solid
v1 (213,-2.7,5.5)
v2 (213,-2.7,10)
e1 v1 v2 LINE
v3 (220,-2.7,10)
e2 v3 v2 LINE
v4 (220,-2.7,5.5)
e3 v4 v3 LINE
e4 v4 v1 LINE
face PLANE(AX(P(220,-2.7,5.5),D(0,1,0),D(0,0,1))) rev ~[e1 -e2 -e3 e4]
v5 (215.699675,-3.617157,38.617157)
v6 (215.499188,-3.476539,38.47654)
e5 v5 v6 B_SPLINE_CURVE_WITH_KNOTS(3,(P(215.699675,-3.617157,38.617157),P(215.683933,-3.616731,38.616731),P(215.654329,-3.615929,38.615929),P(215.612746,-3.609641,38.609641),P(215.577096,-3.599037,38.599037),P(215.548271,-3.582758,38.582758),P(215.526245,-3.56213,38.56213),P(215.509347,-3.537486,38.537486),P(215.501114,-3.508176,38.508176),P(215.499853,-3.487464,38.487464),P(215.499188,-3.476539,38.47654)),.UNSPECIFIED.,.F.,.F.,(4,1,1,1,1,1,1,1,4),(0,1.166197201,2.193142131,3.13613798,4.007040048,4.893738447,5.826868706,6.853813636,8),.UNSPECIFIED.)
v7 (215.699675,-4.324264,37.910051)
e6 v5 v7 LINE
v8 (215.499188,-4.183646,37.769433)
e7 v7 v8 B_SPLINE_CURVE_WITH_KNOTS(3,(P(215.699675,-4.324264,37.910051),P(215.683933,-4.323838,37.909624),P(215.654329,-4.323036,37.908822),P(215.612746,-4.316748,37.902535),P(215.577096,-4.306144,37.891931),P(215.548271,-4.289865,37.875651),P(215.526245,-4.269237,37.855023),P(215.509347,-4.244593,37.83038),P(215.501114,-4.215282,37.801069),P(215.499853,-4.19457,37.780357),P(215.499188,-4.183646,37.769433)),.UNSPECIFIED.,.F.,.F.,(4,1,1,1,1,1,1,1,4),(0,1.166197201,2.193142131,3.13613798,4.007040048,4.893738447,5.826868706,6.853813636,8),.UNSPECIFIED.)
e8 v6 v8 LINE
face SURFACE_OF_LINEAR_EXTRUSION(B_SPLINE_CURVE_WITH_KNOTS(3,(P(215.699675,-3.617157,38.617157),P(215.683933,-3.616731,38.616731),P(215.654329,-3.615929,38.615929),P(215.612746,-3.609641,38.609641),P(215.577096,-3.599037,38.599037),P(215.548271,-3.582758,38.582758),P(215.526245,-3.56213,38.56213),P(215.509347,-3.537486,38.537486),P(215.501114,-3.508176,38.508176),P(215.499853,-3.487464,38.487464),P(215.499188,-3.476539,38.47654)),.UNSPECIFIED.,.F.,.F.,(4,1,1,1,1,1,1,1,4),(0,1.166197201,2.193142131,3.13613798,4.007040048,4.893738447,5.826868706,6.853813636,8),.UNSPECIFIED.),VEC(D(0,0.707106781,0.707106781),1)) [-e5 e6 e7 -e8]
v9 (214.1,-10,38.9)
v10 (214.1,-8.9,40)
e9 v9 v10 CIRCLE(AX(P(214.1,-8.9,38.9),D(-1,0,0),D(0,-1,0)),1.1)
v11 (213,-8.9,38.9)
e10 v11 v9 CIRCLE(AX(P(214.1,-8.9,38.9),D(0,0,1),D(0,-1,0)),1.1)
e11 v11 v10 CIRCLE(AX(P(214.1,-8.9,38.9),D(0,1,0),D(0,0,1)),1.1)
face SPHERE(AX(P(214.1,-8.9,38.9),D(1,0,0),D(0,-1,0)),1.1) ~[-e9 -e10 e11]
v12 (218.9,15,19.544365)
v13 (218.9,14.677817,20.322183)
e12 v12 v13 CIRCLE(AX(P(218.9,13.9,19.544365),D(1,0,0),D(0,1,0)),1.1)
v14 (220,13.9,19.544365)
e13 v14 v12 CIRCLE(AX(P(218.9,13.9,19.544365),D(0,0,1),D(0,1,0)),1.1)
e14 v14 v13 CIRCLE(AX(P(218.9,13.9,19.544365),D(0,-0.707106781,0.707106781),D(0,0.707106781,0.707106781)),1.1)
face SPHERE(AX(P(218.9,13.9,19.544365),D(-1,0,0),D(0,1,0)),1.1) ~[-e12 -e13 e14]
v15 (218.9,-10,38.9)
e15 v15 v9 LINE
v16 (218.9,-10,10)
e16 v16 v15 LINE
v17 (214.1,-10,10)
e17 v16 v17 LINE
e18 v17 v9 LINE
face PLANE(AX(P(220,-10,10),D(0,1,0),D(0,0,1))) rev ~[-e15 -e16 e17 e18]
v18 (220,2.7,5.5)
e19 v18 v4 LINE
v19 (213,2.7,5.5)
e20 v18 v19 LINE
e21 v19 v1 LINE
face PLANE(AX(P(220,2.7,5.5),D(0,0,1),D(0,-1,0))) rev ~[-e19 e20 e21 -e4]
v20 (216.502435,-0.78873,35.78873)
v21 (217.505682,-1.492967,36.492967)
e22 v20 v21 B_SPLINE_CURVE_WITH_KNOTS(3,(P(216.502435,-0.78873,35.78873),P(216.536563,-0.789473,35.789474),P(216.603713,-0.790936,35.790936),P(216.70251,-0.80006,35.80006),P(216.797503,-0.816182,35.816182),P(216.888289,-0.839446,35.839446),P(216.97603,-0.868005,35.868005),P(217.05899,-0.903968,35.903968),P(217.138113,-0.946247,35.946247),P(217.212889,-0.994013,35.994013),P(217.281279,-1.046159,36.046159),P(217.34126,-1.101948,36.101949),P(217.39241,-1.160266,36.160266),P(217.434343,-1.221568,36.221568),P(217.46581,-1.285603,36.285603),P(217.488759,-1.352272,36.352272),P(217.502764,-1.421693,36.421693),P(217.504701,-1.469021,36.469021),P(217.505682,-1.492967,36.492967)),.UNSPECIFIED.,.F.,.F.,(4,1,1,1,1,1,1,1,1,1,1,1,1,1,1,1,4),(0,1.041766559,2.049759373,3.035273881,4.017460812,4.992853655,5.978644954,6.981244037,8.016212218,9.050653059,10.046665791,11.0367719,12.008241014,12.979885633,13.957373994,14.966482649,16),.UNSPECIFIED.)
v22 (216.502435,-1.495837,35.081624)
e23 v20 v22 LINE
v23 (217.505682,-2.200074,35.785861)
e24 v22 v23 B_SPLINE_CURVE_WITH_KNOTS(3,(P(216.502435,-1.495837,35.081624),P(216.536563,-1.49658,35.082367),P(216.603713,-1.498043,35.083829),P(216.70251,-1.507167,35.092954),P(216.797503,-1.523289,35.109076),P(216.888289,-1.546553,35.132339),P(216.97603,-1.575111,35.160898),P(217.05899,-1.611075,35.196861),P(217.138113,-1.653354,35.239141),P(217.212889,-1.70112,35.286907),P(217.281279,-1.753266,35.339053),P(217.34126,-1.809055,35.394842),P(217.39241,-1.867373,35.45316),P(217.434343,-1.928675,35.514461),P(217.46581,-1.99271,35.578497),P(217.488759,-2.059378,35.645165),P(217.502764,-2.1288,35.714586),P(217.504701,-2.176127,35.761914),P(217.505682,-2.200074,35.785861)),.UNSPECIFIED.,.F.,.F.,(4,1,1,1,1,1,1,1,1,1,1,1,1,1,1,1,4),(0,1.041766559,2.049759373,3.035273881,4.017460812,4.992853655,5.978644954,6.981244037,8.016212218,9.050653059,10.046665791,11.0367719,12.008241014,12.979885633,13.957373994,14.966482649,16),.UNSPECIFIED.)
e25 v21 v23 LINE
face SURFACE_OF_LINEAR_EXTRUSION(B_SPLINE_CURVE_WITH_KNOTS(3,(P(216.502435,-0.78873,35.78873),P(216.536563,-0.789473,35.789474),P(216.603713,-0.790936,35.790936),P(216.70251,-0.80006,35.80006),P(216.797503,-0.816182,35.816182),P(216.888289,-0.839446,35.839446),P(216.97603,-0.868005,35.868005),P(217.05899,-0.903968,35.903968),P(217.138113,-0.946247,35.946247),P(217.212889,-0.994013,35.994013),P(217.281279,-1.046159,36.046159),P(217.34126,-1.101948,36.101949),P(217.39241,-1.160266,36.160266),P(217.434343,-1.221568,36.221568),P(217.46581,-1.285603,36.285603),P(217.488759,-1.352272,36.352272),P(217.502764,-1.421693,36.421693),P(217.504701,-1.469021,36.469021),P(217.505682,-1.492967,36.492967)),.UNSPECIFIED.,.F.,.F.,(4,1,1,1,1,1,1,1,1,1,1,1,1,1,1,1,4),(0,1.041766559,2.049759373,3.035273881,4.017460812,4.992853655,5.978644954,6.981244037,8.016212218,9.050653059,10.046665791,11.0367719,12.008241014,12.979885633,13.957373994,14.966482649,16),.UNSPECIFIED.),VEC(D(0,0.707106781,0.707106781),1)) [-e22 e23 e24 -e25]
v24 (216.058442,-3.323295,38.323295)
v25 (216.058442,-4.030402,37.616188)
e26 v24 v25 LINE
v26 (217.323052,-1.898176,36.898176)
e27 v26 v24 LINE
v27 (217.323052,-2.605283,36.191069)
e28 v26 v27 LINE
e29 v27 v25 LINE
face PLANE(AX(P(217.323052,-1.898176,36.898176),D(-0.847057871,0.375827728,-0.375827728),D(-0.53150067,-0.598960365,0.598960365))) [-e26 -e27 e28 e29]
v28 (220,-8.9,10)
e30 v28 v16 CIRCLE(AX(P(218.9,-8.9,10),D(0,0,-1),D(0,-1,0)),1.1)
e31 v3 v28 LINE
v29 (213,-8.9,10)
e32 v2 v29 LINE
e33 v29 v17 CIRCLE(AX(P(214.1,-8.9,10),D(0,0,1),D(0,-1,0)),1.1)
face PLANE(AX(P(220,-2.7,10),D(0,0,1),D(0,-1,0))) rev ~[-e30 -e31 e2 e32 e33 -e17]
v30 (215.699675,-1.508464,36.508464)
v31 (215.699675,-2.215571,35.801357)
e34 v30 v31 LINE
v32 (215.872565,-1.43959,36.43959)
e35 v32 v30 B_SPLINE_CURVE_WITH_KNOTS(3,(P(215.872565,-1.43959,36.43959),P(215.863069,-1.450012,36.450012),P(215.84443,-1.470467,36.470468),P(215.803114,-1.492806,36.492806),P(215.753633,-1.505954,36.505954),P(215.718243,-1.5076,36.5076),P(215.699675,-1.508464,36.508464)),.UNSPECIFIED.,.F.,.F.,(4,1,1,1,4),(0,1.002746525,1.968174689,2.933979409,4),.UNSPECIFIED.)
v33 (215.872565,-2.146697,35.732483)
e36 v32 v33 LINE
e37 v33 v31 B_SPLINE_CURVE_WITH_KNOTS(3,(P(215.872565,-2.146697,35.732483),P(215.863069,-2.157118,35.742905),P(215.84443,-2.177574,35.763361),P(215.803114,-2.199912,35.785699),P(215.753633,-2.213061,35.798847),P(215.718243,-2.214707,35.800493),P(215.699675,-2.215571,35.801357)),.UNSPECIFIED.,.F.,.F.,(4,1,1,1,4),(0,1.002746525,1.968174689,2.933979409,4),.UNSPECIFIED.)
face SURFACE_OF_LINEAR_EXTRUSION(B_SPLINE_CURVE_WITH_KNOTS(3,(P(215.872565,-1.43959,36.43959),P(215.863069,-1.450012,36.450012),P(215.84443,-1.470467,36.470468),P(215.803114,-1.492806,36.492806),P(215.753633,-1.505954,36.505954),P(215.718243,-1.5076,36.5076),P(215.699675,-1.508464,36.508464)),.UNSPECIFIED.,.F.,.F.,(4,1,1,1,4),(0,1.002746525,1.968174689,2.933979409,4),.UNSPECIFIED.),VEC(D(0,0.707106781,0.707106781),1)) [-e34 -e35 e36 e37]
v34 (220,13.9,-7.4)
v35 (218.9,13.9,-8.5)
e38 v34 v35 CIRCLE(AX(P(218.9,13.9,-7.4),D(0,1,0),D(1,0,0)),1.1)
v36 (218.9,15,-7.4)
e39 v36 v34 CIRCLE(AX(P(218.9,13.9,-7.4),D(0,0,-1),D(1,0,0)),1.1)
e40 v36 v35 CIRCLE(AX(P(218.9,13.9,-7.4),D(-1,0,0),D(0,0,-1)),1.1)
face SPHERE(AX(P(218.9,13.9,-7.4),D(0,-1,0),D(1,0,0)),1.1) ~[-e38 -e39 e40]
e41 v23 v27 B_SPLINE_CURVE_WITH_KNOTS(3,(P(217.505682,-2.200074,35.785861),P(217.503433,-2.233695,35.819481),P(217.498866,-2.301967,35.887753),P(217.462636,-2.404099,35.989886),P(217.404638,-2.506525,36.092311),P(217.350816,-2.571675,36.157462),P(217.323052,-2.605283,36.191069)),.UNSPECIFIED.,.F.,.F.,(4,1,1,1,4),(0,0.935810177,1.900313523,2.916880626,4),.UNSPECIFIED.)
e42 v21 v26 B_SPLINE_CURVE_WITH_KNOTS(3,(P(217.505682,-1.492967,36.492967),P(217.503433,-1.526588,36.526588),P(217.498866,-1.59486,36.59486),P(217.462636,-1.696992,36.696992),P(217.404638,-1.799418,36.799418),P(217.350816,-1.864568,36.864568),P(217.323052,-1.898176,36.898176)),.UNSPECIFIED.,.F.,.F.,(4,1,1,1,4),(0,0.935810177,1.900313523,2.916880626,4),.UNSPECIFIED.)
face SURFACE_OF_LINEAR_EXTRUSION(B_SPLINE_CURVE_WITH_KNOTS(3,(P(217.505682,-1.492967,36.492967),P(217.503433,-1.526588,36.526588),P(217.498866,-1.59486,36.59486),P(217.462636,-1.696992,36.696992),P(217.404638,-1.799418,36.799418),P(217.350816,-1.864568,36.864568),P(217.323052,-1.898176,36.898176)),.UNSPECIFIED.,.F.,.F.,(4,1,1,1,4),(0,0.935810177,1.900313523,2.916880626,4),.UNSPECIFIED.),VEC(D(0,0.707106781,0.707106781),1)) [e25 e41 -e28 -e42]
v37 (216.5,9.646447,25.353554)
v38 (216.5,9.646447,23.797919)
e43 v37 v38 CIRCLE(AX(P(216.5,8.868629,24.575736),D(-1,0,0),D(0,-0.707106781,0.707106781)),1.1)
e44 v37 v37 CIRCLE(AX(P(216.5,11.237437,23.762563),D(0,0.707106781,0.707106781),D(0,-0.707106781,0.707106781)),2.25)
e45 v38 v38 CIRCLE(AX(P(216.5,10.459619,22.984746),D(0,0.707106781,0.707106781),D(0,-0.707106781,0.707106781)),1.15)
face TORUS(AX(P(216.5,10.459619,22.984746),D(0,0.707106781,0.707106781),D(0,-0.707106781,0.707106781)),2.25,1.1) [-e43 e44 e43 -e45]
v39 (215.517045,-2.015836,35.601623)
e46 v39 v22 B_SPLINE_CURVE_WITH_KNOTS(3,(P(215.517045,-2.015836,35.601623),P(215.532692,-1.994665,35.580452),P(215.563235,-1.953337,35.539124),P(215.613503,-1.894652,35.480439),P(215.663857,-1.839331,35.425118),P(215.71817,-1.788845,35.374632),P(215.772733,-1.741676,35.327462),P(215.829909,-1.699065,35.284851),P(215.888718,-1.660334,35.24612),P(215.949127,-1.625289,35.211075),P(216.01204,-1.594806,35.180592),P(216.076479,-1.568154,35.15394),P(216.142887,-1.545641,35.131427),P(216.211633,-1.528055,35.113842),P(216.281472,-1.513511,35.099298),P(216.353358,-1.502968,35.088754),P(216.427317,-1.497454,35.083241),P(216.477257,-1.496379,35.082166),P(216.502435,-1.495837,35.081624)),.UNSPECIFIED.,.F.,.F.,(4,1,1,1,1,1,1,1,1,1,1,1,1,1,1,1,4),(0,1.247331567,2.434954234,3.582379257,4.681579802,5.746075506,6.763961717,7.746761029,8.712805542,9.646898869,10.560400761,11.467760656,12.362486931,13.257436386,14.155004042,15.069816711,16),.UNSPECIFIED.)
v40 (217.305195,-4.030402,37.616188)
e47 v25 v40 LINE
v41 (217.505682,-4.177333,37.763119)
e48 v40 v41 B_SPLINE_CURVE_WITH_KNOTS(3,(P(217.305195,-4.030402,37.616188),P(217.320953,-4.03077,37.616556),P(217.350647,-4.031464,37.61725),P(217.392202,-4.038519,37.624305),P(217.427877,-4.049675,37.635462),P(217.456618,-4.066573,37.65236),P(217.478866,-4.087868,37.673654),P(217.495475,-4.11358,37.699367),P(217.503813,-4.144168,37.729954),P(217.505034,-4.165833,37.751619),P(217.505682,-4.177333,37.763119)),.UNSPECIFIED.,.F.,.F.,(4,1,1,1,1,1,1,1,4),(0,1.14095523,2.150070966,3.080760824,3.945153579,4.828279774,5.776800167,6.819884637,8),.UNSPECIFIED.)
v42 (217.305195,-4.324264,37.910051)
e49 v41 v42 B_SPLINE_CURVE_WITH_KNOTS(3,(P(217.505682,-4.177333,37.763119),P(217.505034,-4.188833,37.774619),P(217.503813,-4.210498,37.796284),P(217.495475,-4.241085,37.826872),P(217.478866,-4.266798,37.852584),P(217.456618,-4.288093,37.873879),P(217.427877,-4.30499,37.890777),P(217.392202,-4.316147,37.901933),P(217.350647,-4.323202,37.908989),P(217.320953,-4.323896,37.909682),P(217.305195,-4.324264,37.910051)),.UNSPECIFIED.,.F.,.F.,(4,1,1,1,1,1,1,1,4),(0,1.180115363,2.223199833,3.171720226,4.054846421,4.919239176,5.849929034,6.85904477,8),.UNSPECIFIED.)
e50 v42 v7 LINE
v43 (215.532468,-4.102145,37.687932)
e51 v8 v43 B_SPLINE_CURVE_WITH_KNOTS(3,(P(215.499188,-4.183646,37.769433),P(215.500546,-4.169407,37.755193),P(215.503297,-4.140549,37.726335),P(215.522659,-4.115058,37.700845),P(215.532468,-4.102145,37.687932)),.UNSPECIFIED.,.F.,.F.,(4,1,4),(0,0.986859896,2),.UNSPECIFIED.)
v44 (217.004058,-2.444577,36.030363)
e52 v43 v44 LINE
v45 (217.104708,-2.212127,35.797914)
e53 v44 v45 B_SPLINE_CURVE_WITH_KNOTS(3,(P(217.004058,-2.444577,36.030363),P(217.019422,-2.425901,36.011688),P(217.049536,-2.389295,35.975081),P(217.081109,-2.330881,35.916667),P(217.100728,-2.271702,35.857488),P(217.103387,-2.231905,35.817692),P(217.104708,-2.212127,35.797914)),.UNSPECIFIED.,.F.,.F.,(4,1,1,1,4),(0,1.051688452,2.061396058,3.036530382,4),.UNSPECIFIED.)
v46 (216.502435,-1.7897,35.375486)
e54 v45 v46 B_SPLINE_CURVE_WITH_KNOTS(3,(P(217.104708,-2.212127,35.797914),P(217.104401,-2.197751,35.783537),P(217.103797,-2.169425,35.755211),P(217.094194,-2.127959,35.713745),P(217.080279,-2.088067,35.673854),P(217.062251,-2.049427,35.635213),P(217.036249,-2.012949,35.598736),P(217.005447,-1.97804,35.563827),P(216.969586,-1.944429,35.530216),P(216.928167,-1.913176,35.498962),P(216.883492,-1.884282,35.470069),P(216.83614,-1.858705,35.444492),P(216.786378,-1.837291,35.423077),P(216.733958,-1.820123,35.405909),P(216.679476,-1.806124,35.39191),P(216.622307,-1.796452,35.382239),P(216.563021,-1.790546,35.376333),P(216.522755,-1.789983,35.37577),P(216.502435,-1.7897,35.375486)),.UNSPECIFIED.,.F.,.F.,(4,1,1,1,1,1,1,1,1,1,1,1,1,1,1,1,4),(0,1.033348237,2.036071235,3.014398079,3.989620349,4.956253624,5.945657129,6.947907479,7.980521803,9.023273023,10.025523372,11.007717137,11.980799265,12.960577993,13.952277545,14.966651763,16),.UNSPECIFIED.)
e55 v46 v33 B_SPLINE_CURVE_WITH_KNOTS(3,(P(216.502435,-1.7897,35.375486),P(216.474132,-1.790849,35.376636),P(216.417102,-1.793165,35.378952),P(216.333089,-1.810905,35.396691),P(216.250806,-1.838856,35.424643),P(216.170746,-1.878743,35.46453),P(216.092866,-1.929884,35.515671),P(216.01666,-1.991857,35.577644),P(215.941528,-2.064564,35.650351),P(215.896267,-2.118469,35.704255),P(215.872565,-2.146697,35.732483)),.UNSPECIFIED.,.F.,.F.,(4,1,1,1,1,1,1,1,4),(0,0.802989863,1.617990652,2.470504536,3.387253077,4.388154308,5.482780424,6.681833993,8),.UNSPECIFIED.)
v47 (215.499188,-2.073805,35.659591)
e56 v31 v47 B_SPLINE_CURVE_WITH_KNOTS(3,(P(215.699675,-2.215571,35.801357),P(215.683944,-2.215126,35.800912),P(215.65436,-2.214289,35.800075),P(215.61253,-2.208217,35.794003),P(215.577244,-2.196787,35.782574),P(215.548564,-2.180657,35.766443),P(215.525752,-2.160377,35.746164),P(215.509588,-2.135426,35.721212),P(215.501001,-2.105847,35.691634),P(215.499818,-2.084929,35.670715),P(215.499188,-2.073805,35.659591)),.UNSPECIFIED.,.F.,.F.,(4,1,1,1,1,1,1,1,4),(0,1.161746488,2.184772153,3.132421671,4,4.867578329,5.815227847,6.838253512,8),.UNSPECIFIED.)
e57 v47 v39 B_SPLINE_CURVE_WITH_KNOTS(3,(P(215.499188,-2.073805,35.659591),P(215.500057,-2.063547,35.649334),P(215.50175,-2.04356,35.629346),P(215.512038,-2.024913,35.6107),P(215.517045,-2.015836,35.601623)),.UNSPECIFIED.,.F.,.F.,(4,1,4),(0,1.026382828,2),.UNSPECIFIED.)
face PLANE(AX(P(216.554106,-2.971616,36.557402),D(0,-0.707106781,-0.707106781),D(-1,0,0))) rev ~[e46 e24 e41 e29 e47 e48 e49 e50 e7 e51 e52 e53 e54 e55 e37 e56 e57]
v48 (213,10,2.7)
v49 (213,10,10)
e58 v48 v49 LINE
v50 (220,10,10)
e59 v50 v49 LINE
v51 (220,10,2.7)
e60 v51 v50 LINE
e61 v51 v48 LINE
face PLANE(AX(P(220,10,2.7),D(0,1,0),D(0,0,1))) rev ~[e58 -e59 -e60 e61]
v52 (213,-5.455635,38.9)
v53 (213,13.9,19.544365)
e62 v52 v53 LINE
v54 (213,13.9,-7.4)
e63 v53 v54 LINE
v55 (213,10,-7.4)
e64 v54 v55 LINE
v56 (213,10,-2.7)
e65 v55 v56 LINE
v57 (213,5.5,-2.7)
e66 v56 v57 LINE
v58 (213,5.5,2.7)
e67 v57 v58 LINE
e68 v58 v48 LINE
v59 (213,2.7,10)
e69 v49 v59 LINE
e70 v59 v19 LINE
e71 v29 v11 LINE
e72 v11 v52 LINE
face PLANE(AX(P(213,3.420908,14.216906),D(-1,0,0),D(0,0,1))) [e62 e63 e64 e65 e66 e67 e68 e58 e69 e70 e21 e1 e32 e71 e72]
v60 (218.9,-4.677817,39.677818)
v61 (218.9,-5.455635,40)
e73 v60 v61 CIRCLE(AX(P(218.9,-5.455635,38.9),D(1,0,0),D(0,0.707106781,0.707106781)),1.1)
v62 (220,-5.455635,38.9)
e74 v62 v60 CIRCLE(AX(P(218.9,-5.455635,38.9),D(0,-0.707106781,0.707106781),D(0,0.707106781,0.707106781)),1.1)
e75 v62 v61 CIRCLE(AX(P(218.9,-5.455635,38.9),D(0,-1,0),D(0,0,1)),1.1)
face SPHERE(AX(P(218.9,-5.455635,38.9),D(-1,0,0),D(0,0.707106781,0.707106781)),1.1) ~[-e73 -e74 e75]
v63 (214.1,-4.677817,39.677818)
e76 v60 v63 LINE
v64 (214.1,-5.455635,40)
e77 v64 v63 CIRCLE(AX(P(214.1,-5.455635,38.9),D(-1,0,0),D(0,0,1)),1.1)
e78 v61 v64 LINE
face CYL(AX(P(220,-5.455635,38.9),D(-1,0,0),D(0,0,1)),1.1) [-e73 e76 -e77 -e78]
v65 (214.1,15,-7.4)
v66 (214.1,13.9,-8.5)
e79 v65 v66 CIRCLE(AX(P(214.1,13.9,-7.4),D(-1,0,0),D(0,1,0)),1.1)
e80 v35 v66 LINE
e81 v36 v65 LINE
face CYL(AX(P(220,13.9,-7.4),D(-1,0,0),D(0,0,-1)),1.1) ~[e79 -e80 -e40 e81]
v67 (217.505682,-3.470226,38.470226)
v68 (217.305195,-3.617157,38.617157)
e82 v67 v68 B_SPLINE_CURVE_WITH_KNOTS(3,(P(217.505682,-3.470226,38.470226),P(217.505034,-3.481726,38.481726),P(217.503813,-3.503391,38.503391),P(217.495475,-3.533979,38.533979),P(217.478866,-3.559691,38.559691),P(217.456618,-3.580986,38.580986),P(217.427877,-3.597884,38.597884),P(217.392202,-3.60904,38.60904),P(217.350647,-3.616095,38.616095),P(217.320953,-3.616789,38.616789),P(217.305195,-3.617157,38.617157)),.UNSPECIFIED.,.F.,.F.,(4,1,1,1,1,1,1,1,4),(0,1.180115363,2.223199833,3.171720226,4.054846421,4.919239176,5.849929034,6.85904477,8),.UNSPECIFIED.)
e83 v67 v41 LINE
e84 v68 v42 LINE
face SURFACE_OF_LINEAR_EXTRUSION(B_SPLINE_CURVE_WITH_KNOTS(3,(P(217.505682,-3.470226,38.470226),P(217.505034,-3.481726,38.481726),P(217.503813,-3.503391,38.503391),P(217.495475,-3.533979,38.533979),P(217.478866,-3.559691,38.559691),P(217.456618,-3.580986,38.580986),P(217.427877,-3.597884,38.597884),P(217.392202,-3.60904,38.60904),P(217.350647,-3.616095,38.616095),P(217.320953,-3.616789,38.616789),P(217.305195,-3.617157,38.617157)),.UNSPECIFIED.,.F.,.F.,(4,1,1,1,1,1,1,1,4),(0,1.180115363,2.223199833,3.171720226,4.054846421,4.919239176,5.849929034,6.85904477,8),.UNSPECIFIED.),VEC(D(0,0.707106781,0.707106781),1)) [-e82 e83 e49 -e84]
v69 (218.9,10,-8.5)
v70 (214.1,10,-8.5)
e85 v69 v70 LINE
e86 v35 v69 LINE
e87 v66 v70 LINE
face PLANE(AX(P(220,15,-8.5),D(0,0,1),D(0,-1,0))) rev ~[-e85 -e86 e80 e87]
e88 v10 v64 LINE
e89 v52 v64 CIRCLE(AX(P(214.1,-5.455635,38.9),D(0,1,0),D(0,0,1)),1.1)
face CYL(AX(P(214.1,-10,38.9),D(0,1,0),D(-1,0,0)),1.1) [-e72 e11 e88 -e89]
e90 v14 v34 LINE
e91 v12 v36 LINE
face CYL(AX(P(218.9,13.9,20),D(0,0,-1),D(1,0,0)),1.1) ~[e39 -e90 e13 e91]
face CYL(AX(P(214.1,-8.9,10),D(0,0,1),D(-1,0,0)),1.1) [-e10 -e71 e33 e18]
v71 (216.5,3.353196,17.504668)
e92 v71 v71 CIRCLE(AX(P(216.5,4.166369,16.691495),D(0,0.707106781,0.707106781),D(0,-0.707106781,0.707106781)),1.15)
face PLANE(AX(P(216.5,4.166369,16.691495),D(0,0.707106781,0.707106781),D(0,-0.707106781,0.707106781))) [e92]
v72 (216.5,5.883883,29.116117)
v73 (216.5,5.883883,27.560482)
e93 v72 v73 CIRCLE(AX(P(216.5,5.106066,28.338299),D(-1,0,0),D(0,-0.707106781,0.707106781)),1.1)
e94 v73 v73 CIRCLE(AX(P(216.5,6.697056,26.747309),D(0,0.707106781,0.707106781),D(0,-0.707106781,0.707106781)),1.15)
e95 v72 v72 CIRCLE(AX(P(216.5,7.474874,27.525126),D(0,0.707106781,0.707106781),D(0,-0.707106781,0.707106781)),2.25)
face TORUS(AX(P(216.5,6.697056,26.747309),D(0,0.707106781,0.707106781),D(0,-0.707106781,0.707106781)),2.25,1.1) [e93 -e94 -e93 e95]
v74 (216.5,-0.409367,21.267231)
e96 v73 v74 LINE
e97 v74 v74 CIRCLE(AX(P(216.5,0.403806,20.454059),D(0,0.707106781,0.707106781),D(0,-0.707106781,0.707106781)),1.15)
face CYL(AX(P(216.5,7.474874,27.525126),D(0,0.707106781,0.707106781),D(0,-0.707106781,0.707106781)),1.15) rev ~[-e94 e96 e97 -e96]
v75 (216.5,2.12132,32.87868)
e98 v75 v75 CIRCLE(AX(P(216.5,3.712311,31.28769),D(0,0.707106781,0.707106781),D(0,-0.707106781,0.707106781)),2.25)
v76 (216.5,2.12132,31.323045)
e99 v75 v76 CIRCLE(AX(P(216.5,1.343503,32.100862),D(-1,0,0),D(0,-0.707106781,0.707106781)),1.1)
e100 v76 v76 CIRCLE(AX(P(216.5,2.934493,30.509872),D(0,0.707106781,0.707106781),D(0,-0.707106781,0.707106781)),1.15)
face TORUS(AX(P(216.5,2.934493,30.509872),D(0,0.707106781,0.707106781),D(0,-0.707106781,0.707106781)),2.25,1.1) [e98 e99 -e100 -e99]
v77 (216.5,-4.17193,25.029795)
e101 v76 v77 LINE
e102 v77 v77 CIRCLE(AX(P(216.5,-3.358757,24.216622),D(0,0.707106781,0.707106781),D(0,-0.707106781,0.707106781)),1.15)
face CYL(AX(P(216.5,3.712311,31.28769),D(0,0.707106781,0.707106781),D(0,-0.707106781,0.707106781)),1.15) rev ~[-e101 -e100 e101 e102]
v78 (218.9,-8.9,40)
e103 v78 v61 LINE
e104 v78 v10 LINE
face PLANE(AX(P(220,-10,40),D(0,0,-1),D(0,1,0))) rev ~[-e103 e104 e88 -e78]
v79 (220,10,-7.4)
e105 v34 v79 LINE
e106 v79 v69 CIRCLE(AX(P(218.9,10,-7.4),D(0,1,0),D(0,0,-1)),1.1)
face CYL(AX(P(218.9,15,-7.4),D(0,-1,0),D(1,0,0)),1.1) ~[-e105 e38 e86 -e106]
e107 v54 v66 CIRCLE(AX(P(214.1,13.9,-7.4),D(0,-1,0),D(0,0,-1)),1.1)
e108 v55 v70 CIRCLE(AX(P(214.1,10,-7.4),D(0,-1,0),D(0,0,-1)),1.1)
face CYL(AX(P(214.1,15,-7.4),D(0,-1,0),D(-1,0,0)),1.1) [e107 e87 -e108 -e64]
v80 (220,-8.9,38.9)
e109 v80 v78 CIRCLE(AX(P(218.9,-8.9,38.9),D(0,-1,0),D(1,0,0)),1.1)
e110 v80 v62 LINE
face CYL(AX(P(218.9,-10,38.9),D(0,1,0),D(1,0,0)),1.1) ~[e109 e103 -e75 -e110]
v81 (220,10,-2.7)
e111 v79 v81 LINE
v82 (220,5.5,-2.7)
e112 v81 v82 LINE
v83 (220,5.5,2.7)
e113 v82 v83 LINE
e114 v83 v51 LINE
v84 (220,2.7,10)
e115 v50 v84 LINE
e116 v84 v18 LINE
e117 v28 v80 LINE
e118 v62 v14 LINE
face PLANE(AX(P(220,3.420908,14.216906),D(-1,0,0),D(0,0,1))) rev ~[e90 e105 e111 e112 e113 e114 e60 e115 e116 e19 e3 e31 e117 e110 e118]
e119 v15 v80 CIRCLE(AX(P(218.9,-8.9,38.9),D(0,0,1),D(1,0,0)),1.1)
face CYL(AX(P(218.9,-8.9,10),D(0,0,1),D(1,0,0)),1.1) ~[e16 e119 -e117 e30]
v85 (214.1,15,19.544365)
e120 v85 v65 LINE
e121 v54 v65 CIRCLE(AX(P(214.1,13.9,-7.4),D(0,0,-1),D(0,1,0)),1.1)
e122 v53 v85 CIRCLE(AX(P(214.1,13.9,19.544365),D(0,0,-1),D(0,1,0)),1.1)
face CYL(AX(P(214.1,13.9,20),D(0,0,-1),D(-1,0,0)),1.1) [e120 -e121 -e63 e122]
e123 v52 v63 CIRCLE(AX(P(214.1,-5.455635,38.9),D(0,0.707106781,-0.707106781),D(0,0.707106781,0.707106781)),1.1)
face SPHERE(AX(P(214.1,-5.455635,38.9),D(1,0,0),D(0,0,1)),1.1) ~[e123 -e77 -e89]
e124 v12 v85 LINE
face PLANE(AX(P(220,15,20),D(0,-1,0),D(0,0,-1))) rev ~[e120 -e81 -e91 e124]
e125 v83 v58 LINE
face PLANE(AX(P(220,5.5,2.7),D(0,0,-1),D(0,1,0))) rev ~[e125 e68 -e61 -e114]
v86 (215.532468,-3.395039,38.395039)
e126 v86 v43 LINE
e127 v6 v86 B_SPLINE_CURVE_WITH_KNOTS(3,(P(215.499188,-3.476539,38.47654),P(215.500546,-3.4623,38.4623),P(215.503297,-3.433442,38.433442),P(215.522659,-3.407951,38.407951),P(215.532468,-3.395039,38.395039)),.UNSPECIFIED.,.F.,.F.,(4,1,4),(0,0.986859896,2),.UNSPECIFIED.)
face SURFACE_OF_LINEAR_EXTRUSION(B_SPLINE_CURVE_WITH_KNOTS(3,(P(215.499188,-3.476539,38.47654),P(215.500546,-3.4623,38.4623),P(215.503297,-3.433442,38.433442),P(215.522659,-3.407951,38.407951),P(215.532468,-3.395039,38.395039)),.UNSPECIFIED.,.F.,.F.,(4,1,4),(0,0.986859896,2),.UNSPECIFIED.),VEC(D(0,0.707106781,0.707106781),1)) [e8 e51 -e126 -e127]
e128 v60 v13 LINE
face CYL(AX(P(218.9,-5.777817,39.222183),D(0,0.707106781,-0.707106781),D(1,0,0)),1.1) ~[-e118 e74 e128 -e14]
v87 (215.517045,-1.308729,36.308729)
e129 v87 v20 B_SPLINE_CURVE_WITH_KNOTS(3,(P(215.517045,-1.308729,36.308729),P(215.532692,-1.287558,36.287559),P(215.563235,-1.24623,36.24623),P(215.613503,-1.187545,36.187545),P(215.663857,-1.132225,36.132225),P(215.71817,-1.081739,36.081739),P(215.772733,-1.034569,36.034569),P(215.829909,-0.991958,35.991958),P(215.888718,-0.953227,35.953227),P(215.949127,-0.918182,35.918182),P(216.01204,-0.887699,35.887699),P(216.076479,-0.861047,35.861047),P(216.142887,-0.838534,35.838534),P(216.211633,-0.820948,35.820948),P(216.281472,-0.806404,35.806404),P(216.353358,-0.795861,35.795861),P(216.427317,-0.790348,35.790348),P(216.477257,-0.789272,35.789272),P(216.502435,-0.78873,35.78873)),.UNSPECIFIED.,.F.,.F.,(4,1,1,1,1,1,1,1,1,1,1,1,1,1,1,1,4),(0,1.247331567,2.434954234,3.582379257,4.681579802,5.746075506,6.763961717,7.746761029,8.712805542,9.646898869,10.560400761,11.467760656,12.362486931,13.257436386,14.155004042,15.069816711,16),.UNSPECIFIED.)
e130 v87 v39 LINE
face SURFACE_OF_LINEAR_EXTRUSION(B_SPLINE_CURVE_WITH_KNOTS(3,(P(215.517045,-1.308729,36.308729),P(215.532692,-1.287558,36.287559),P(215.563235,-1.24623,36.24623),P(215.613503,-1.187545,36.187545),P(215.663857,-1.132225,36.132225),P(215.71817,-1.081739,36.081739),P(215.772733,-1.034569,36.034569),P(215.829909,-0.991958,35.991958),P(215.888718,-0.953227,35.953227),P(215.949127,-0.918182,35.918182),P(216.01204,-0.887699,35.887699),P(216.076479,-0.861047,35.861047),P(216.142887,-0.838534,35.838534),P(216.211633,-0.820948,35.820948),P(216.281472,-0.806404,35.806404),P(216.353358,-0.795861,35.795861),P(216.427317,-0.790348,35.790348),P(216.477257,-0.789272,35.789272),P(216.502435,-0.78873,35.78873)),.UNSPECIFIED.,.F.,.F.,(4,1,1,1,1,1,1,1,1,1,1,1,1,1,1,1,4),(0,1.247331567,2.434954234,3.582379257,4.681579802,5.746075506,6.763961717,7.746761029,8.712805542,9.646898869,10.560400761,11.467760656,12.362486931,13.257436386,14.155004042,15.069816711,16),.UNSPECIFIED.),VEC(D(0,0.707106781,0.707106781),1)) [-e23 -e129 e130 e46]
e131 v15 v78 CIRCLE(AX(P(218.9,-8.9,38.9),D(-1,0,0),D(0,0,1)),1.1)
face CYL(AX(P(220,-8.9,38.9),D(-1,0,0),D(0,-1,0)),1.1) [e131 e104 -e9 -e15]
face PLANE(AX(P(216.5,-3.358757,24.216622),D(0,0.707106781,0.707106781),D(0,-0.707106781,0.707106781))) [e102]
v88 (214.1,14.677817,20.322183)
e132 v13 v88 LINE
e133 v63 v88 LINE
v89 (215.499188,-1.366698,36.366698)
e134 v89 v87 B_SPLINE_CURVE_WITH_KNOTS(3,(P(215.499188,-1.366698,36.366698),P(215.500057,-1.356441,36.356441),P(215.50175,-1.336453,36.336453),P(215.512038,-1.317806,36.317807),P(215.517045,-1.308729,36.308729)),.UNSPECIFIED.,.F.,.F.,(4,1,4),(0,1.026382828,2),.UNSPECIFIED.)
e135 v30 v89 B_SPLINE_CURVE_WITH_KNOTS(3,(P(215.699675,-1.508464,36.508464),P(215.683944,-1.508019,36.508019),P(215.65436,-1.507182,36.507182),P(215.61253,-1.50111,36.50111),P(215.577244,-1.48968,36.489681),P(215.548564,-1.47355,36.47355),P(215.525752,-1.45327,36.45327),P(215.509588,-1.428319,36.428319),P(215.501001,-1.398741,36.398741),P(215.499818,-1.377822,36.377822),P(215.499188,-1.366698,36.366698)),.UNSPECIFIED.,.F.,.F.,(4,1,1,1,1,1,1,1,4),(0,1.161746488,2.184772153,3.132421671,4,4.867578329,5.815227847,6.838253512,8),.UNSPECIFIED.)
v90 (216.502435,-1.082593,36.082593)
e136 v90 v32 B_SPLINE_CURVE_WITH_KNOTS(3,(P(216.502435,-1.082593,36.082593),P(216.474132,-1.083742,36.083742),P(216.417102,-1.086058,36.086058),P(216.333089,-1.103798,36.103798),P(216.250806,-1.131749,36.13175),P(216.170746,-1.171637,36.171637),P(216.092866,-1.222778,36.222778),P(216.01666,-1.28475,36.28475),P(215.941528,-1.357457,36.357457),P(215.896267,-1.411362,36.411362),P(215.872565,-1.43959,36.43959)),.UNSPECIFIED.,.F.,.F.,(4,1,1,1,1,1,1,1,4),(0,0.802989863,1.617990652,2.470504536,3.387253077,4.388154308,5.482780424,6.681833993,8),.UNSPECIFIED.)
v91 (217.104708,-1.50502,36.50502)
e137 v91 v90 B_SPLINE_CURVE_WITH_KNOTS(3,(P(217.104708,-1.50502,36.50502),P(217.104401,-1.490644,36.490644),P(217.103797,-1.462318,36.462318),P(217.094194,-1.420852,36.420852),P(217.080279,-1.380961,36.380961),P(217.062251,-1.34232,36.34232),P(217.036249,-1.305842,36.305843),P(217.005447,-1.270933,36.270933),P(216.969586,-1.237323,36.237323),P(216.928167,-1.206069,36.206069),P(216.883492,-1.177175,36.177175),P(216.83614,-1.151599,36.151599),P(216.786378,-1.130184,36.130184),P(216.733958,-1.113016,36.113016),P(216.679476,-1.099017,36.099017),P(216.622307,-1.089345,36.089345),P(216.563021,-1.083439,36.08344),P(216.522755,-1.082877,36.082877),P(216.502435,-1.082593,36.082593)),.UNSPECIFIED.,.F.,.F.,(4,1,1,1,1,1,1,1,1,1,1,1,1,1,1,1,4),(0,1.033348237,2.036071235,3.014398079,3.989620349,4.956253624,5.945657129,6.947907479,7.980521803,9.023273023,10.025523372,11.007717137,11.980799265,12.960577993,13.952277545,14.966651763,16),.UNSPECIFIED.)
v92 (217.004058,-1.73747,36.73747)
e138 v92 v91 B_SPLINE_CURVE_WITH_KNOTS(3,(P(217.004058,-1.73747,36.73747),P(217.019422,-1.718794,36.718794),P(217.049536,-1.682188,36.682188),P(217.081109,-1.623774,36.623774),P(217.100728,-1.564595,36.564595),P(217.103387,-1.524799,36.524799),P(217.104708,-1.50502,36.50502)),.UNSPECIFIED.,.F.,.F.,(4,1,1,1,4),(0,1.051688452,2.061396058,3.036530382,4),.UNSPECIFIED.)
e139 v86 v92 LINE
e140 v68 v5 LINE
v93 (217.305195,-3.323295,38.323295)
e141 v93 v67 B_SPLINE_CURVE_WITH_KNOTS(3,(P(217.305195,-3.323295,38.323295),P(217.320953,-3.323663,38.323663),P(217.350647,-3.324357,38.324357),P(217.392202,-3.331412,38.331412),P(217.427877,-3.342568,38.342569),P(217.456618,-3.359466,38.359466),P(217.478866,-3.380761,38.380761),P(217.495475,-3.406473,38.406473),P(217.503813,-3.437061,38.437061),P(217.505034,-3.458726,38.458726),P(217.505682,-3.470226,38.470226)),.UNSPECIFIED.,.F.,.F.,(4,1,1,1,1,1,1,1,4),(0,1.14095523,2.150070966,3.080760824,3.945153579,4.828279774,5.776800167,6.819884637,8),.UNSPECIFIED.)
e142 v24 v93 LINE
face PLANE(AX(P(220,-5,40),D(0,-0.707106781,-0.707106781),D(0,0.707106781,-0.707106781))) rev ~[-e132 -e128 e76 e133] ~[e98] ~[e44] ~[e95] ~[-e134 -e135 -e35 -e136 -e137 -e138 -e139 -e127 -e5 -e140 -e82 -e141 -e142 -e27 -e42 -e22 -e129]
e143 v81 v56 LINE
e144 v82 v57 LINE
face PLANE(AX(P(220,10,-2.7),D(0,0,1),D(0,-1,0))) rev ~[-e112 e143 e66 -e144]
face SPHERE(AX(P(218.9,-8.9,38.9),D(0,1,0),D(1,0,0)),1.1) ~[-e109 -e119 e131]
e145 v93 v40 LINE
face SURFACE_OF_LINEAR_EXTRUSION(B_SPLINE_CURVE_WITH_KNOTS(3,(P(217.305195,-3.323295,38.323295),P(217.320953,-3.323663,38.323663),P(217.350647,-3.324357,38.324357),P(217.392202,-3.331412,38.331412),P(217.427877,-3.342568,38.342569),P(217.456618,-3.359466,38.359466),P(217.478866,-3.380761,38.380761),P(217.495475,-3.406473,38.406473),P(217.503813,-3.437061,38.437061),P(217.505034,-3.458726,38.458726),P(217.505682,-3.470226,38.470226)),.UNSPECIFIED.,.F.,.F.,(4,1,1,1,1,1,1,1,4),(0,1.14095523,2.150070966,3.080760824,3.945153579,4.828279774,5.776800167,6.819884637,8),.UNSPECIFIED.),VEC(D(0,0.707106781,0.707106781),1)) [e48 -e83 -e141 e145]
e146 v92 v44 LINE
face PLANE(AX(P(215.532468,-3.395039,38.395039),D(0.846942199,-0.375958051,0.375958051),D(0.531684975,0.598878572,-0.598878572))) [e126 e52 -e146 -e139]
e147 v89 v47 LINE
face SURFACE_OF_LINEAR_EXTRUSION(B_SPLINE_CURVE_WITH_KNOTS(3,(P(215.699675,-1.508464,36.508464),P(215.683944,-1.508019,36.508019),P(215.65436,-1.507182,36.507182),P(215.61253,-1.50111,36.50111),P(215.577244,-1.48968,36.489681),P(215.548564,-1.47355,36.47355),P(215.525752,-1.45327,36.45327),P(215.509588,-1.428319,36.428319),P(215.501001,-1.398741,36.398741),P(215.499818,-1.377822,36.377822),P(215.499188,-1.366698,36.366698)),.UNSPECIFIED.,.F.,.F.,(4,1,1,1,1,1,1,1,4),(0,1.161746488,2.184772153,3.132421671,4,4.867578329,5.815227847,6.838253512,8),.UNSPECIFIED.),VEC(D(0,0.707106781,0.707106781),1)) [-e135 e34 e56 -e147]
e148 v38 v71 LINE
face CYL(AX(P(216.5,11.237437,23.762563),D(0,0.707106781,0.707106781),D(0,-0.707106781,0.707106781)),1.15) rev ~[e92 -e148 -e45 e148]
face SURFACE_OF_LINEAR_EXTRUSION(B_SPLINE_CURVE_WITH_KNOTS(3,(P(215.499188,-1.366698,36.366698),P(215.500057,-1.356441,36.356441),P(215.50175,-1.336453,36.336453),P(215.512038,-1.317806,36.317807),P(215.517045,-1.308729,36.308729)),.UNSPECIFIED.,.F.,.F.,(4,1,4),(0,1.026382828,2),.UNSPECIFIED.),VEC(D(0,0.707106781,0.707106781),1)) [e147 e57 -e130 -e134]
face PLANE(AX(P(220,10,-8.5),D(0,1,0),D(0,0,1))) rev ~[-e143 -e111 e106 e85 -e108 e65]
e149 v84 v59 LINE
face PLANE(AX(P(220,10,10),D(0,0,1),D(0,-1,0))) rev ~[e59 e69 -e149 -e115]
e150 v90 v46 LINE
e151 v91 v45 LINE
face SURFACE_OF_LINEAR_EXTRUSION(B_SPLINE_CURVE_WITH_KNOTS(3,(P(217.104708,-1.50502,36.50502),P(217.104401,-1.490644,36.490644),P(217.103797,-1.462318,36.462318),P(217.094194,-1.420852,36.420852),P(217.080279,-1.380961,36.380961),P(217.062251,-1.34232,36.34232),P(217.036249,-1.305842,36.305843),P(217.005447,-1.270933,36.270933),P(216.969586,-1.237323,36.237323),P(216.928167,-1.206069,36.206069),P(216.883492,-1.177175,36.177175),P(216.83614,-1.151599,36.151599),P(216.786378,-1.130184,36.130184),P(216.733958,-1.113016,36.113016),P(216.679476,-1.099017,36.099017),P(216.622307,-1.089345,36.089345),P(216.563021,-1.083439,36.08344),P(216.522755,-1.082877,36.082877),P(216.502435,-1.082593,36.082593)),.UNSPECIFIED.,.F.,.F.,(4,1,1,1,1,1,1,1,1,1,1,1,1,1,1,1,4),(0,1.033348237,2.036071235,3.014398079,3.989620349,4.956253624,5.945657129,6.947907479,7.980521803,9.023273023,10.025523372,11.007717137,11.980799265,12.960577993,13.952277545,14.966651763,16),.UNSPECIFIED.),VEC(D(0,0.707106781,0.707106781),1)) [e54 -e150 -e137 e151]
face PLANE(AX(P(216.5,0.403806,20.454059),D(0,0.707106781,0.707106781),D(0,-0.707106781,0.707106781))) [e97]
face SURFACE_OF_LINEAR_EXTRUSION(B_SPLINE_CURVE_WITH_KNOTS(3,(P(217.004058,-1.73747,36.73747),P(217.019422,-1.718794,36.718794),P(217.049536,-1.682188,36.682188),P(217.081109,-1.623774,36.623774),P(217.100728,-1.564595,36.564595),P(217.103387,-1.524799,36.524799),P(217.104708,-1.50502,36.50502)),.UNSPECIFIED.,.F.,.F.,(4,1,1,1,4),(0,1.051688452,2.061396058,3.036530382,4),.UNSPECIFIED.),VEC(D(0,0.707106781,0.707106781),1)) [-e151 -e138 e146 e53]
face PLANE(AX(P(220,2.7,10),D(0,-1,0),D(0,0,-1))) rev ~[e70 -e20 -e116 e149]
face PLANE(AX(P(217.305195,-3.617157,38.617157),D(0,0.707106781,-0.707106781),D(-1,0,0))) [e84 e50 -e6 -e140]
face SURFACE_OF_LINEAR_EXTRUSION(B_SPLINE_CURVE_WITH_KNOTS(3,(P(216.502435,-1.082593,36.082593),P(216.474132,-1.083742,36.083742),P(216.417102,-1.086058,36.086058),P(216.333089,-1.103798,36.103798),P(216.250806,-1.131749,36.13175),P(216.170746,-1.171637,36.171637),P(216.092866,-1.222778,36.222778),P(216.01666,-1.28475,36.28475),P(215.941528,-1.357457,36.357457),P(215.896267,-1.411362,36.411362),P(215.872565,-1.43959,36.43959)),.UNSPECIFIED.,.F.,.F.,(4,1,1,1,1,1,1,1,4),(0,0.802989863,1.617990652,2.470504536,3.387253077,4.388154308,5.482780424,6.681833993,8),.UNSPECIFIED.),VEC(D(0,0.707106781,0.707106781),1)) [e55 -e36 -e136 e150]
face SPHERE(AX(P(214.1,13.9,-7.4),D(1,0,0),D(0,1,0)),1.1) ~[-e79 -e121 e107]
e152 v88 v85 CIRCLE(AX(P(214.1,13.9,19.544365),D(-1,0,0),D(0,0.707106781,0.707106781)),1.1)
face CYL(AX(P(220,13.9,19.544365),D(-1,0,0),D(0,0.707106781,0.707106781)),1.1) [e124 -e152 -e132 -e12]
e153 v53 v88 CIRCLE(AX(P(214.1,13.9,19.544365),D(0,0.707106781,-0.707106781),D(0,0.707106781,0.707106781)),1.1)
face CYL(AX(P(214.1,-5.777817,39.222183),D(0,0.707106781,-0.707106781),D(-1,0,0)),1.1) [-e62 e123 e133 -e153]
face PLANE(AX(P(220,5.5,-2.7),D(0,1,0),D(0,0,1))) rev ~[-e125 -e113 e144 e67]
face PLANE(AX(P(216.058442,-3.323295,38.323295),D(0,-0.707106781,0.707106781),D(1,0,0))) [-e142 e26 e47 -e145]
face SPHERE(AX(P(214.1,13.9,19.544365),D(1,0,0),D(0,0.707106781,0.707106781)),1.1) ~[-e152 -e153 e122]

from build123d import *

# Parameters (mm, degrees)
EXTRUDE_1_DEPTH     = 7
SKETCH_2_R          = 1.15
CUT_EXTRUDE_1_DEPTH = 10
SKETCH_5_R          = 1.15
CUT_EXTRUDE_3_DEPTH = 10
FILLET_1_R          = 1.1
CUT_EXTRUDE_4_DEPTH = 1


with BuildPart() as part:
    # Эскиз1 → Бобышка-Вытянуть1 (new body)
    with BuildSketch(Plane.ZY.offset(-220)):
        Polygon((-2.700000149, 10), (-2.700000149, 5.5), (2.700000149, 5.5), (2.700000149, 10), (10.000000149, 10), (10.000000149, 2.700000104), (5.500000149, 2.700000104), (5.500000149, -2.700000194), (10.000000149, -2.700000194), (10.000000149, -10), (40.000000149, -10), (40.000000149, -5), (20.000000149, 15), (-8.500000149, 15), (-8.500000149, 10), align=None)
    extrude(amount=EXTRUDE_1_DEPTH)

    # Эскиз2 → Вырез-Вытянуть1 (cut)
    with BuildSketch(Plane(origin=(0, 17.500000075, 17.500000075), x_dir=(1, 0, 0), z_dir=(0, 0.7071067811865489, 0.7071067811865462))):
        with Locations(Location((216.5, -14.177669635, 0), (0, 0, 270))):
            Circle(SKETCH_2_R)
    extrude(amount=-CUT_EXTRUDE_1_DEPTH, mode=Mode.SUBTRACT)

    # Эскиз5 → Вырез-Вытянуть3 (cut)
    with BuildSketch(Plane(origin=(0, 17.500000075, 17.500000075), x_dir=(1, 0, 0), z_dir=(0, 0.7071067811865489, 0.7071067811865462))):
        with Locations(Location((216.5, -8.856601823, 0), (0, 0, 270))):
            Circle(SKETCH_5_R)
        with Locations(Location((216.5, -19.498737447, 0), (0, 0, 270))):
            Circle(SKETCH_5_R)
    extrude(amount=-CUT_EXTRUDE_3_DEPTH, mode=Mode.SUBTRACT)

    # Скругление1
    fillet_1_edges = [part.edges().sort_by_distance(p)[0] for p in [
        (220, 12.5, -8.500000149),
        (220, 15, 5.75),
        (220, 5, 30.000000149),
        (220, -7.5, 40.000000149),
        (220, -10, 25.000000149),
        (216.5, 15, -8.500000149),
        (216.5, 15, 20.000000149),
        (216.5, -5, 40.000000149),
        (216.5, -10, 40.000000149),
        (213, -10, 25.000000149),
        (216.5, 8.288046533, 26.711953616),
        (213, -7.5, 40.000000149),
        (216.5, 4.5254834, 30.474516749),
        (216.5, 12.050609665, 22.949390484),
        (213, 5, 30.000000149),
        (213, 15, 5.75),
        (213, 12.5, -8.500000149),
    ]]
    fillet(fillet_1_edges, radius=FILLET_1_R)

    # Эскиз6 → Вырез-Вытянуть4 (cut)
    with BuildSketch(Plane(origin=(0, 17.500000075, 17.500000075), x_dir=(1, 0, 0), z_dir=(0, 0.707106781186549, 0.7071067811865462))):
        with BuildLine():
            add(Edge.make_bspline(
                [(216.502435065, -25.86417034), (216.536563033, -25.865221496), (216.60371255, -25.867289731), (216.702509896, -25.880193482), (216.797502694, -25.90299359), (216.888288666, -25.935893054), (216.976029709, -25.976281211), (217.058990215, -26.027141192), (217.138113432, -26.086933249), (217.212888867, -26.154484411), (217.281279441, -26.228230082), (217.341260408, -26.307127858), (217.392409957, -26.389601594), (217.434342901, -26.476295263), (217.465809589, -26.566855017), (217.488759341, -26.661138444), (217.502763598, -26.759314764), (217.50470136, -26.826246251), (217.505681818, -26.860111899)],
                knots=[0, 0, 0, 0, 1.041766559, 2.049759373, 3.035273881, 4.017460812, 4.992853655, 5.978644954, 6.981244037, 8.016212218, 9.050653059, 10.046665791, 11.0367719, 12.008241014, 12.979885633, 13.957373994, 14.966482649, 16, 16, 16, 16], degree=3))
            add(Edge.make_bspline(
                [(217.505681818, -26.860111899), (217.503432714, -26.907658615), (217.498865545, -27.004209893), (217.462636232, -27.14864688), (217.404638062, -27.293498456), (217.350815973, -27.385635252), (217.323051948, -27.433163847)],
                knots=[0, 0, 0, 0, 0.935810177, 1.900313523, 2.916880626, 4, 4, 4, 4], degree=3))
            Line((217.323051948, -27.433163847), (216.058441558, -29.448585925))
            Line((216.058441558, -29.448585925), (217.305194805, -29.448585925))
            add(Edge.make_bspline(
                [(217.305194805, -29.448585925), (217.320952575, -29.449106667), (217.350647274, -29.450087979), (217.392201576, -29.460065459), (217.427876696, -29.475843079), (217.456618488, -29.499740234), (217.478865792, -29.529855517), (217.495475433, -29.566218207), (217.503813047, -29.609475843), (217.505033813, -29.640114546), (217.505681818, -29.656378132)],
                knots=[0, 0, 0, 0, 1.14095523, 2.150070966, 3.080760824, 3.945153579, 4.828279774, 5.776800167, 6.819884637, 8, 8, 8, 8], degree=3))
            add(Edge.make_bspline(
                [(217.505681818, -29.656378132), (217.505033813, -29.672641719), (217.503813047, -29.703280421), (217.495475433, -29.746538058), (217.478865792, -29.782900748), (217.456618488, -29.813016031), (217.427876696, -29.836913185), (217.392201576, -29.852690806), (217.350647274, -29.862668286), (217.320952575, -29.863649598), (217.305194805, -29.86417034)],
                knots=[0, 0, 0, 0, 1.180115363, 2.223199833, 3.171720226, 4.054846421, 4.919239176, 5.849929034, 6.85904477, 8, 8, 8, 8], degree=3))
            Line((217.305194805, -29.86417034), (215.699675325, -29.86417034))
            add(Edge.make_bspline(
                [(215.699675325, -29.86417034), (215.683933164, -29.863567282), (215.65432857, -29.862433176), (215.61274605, -29.853541174), (215.577095512, -29.83854485), (215.548270828, -29.815522562), (215.52624531, -29.786349963), (215.509347256, -29.751498386), (215.501114388, -29.71004685), (215.499853401, -29.680755827), (215.499188312, -29.665306704)],
                knots=[0, 0, 0, 0, 1.166197201, 2.193142131, 3.13613798, 4.007040048, 4.893738447, 5.826868706, 6.853813636, 8, 8, 8, 8], degree=3))
            add(Edge.make_bspline(
                [(215.499188312, -29.665306704), (215.500545826, -29.64516914), (215.503297006, -29.604357748), (215.522659217, -29.568308455), (215.532467532, -29.550046964)],
                knots=[0, 0, 0, 0, 0.986859896, 2, 2, 2, 2], degree=3))
            Line((215.532467532, -29.550046964), (217.004058442, -27.205891119))
            add(Edge.make_bspline(
                [(217.004058442, -27.205891119), (217.019421898, -27.179479546), (217.049535538, -27.127710686), (217.081108754, -27.045100631), (217.100727999, -26.961408789), (217.103386527, -26.905128284), (217.104707792, -26.877157353)],
                knots=[0, 0, 0, 0, 1.051688452, 2.061396058, 3.036530382, 4, 4, 4, 4], degree=3))
            add(Edge.make_bspline(
                [(217.104707792, -26.877157353), (217.104401122, -26.85682656), (217.103796871, -26.816767517), (217.094194077, -26.758125541), (217.080278553, -26.701710753), (217.06225054, -26.647064491), (217.036248612, -26.595477549), (217.005447031, -26.546108342), (216.969585749, -26.498575919), (216.928166943, -26.454376736), (216.883491772, -26.413514712), (216.836140094, -26.377343683), (216.786377846, -26.347059109), (216.733958309, -26.322779543), (216.679476241, -26.302981965), (216.622306603, -26.289304254), (216.563021254, -26.280952172), (216.52275483, -26.280156353), (216.502435065, -26.279754756)],
                knots=[0, 0, 0, 0, 1.033348237, 2.036071235, 3.014398079, 3.989620349, 4.956253624, 5.945657129, 6.947907479, 7.980521803, 9.023273023, 10.025523372, 11.007717137, 11.980799265, 12.960577993, 13.952277545, 14.966651763, 16, 16, 16, 16], degree=3))
            add(Edge.make_bspline(
                [(216.502435065, -26.279754756), (216.474131666, -26.281380338), (216.417101513, -26.284655817), (216.333088605, -26.309743664), (216.250805948, -26.34927274), (216.170745637, -26.405681834), (216.092865656, -26.478006076), (216.016660073, -26.565648709), (215.941528023, -26.668471995), (215.896266541, -26.744704834), (215.872564935, -26.784624886)],
                knots=[0, 0, 0, 0, 0.802989863, 1.617990652, 2.470504536, 3.387253077, 4.388154308, 5.482780424, 6.681833993, 8, 8, 8, 8], degree=3))
            add(Edge.make_bspline(
                [(215.872564935, -26.784624886), (215.86306896, -26.799363595), (215.844430415, -26.828292495), (215.803113907, -26.859883264), (215.753633036, -26.878477726), (215.718243076, -26.880805952), (215.699675325, -26.882027483)],
                knots=[0, 0, 0, 0, 1.002746525, 1.968174689, 2.933979409, 4, 4, 4, 4], degree=3))
            add(Edge.make_bspline(
                [(215.699675325, -26.882027483), (215.683944176, -26.881398221), (215.65436029, -26.880214837), (215.612530112, -26.871627302), (215.577243985, -26.855463651), (215.54856423, -26.832651565), (215.525752144, -26.803971809), (215.509588493, -26.768685682), (215.501000958, -26.726855504), (215.499817573, -26.697271619), (215.499188312, -26.68154047)],
                knots=[0, 0, 0, 0, 1.161746488, 2.184772153, 3.132421671, 4, 4.867578329, 5.815227847, 6.838253512, 8, 8, 8, 8], degree=3))
            add(Edge.make_bspline(
                [(215.499188312, -26.68154047), (215.500057235, -26.667034119), (215.501750412, -26.638767178), (215.512037575, -26.612397121), (215.517045455, -26.599559951)],
                knots=[0, 0, 0, 0, 1.026382828, 2, 2, 2, 2], degree=3))
            add(Edge.make_bspline(
                [(215.517045455, -26.599559951), (215.532691663, -26.569619946), (215.563235107, -26.511173146), (215.613503334, -26.42818001), (215.663857233, -26.349944946), (215.718169501, -26.27854673), (215.772733268, -26.211839023), (215.829908634, -26.151577787), (215.888717549, -26.096804028), (215.949127, -26.047243019), (216.012040101, -26.004133199), (216.076479009, -25.966441952), (216.142887069, -25.934603446), (216.211632658, -25.909733515), (216.281472428, -25.889165211), (216.353357859, -25.874254529), (216.427316836, -25.866457749), (216.477256972, -25.864937033), (216.502435065, -25.86417034)],
                knots=[0, 0, 0, 0, 1.247331567, 2.434954234, 3.582379257, 4.681579802, 5.746075506, 6.763961717, 7.746761029, 8.712805542, 9.646898869, 10.560400761, 11.467760656, 12.362486931, 13.257436386, 14.155004042, 15.069816711, 16, 16, 16, 16], degree=3))
        make_face()
    extrude(amount=-CUT_EXTRUDE_4_DEPTH, mode=Mode.SUBTRACT)


solid = part.part
